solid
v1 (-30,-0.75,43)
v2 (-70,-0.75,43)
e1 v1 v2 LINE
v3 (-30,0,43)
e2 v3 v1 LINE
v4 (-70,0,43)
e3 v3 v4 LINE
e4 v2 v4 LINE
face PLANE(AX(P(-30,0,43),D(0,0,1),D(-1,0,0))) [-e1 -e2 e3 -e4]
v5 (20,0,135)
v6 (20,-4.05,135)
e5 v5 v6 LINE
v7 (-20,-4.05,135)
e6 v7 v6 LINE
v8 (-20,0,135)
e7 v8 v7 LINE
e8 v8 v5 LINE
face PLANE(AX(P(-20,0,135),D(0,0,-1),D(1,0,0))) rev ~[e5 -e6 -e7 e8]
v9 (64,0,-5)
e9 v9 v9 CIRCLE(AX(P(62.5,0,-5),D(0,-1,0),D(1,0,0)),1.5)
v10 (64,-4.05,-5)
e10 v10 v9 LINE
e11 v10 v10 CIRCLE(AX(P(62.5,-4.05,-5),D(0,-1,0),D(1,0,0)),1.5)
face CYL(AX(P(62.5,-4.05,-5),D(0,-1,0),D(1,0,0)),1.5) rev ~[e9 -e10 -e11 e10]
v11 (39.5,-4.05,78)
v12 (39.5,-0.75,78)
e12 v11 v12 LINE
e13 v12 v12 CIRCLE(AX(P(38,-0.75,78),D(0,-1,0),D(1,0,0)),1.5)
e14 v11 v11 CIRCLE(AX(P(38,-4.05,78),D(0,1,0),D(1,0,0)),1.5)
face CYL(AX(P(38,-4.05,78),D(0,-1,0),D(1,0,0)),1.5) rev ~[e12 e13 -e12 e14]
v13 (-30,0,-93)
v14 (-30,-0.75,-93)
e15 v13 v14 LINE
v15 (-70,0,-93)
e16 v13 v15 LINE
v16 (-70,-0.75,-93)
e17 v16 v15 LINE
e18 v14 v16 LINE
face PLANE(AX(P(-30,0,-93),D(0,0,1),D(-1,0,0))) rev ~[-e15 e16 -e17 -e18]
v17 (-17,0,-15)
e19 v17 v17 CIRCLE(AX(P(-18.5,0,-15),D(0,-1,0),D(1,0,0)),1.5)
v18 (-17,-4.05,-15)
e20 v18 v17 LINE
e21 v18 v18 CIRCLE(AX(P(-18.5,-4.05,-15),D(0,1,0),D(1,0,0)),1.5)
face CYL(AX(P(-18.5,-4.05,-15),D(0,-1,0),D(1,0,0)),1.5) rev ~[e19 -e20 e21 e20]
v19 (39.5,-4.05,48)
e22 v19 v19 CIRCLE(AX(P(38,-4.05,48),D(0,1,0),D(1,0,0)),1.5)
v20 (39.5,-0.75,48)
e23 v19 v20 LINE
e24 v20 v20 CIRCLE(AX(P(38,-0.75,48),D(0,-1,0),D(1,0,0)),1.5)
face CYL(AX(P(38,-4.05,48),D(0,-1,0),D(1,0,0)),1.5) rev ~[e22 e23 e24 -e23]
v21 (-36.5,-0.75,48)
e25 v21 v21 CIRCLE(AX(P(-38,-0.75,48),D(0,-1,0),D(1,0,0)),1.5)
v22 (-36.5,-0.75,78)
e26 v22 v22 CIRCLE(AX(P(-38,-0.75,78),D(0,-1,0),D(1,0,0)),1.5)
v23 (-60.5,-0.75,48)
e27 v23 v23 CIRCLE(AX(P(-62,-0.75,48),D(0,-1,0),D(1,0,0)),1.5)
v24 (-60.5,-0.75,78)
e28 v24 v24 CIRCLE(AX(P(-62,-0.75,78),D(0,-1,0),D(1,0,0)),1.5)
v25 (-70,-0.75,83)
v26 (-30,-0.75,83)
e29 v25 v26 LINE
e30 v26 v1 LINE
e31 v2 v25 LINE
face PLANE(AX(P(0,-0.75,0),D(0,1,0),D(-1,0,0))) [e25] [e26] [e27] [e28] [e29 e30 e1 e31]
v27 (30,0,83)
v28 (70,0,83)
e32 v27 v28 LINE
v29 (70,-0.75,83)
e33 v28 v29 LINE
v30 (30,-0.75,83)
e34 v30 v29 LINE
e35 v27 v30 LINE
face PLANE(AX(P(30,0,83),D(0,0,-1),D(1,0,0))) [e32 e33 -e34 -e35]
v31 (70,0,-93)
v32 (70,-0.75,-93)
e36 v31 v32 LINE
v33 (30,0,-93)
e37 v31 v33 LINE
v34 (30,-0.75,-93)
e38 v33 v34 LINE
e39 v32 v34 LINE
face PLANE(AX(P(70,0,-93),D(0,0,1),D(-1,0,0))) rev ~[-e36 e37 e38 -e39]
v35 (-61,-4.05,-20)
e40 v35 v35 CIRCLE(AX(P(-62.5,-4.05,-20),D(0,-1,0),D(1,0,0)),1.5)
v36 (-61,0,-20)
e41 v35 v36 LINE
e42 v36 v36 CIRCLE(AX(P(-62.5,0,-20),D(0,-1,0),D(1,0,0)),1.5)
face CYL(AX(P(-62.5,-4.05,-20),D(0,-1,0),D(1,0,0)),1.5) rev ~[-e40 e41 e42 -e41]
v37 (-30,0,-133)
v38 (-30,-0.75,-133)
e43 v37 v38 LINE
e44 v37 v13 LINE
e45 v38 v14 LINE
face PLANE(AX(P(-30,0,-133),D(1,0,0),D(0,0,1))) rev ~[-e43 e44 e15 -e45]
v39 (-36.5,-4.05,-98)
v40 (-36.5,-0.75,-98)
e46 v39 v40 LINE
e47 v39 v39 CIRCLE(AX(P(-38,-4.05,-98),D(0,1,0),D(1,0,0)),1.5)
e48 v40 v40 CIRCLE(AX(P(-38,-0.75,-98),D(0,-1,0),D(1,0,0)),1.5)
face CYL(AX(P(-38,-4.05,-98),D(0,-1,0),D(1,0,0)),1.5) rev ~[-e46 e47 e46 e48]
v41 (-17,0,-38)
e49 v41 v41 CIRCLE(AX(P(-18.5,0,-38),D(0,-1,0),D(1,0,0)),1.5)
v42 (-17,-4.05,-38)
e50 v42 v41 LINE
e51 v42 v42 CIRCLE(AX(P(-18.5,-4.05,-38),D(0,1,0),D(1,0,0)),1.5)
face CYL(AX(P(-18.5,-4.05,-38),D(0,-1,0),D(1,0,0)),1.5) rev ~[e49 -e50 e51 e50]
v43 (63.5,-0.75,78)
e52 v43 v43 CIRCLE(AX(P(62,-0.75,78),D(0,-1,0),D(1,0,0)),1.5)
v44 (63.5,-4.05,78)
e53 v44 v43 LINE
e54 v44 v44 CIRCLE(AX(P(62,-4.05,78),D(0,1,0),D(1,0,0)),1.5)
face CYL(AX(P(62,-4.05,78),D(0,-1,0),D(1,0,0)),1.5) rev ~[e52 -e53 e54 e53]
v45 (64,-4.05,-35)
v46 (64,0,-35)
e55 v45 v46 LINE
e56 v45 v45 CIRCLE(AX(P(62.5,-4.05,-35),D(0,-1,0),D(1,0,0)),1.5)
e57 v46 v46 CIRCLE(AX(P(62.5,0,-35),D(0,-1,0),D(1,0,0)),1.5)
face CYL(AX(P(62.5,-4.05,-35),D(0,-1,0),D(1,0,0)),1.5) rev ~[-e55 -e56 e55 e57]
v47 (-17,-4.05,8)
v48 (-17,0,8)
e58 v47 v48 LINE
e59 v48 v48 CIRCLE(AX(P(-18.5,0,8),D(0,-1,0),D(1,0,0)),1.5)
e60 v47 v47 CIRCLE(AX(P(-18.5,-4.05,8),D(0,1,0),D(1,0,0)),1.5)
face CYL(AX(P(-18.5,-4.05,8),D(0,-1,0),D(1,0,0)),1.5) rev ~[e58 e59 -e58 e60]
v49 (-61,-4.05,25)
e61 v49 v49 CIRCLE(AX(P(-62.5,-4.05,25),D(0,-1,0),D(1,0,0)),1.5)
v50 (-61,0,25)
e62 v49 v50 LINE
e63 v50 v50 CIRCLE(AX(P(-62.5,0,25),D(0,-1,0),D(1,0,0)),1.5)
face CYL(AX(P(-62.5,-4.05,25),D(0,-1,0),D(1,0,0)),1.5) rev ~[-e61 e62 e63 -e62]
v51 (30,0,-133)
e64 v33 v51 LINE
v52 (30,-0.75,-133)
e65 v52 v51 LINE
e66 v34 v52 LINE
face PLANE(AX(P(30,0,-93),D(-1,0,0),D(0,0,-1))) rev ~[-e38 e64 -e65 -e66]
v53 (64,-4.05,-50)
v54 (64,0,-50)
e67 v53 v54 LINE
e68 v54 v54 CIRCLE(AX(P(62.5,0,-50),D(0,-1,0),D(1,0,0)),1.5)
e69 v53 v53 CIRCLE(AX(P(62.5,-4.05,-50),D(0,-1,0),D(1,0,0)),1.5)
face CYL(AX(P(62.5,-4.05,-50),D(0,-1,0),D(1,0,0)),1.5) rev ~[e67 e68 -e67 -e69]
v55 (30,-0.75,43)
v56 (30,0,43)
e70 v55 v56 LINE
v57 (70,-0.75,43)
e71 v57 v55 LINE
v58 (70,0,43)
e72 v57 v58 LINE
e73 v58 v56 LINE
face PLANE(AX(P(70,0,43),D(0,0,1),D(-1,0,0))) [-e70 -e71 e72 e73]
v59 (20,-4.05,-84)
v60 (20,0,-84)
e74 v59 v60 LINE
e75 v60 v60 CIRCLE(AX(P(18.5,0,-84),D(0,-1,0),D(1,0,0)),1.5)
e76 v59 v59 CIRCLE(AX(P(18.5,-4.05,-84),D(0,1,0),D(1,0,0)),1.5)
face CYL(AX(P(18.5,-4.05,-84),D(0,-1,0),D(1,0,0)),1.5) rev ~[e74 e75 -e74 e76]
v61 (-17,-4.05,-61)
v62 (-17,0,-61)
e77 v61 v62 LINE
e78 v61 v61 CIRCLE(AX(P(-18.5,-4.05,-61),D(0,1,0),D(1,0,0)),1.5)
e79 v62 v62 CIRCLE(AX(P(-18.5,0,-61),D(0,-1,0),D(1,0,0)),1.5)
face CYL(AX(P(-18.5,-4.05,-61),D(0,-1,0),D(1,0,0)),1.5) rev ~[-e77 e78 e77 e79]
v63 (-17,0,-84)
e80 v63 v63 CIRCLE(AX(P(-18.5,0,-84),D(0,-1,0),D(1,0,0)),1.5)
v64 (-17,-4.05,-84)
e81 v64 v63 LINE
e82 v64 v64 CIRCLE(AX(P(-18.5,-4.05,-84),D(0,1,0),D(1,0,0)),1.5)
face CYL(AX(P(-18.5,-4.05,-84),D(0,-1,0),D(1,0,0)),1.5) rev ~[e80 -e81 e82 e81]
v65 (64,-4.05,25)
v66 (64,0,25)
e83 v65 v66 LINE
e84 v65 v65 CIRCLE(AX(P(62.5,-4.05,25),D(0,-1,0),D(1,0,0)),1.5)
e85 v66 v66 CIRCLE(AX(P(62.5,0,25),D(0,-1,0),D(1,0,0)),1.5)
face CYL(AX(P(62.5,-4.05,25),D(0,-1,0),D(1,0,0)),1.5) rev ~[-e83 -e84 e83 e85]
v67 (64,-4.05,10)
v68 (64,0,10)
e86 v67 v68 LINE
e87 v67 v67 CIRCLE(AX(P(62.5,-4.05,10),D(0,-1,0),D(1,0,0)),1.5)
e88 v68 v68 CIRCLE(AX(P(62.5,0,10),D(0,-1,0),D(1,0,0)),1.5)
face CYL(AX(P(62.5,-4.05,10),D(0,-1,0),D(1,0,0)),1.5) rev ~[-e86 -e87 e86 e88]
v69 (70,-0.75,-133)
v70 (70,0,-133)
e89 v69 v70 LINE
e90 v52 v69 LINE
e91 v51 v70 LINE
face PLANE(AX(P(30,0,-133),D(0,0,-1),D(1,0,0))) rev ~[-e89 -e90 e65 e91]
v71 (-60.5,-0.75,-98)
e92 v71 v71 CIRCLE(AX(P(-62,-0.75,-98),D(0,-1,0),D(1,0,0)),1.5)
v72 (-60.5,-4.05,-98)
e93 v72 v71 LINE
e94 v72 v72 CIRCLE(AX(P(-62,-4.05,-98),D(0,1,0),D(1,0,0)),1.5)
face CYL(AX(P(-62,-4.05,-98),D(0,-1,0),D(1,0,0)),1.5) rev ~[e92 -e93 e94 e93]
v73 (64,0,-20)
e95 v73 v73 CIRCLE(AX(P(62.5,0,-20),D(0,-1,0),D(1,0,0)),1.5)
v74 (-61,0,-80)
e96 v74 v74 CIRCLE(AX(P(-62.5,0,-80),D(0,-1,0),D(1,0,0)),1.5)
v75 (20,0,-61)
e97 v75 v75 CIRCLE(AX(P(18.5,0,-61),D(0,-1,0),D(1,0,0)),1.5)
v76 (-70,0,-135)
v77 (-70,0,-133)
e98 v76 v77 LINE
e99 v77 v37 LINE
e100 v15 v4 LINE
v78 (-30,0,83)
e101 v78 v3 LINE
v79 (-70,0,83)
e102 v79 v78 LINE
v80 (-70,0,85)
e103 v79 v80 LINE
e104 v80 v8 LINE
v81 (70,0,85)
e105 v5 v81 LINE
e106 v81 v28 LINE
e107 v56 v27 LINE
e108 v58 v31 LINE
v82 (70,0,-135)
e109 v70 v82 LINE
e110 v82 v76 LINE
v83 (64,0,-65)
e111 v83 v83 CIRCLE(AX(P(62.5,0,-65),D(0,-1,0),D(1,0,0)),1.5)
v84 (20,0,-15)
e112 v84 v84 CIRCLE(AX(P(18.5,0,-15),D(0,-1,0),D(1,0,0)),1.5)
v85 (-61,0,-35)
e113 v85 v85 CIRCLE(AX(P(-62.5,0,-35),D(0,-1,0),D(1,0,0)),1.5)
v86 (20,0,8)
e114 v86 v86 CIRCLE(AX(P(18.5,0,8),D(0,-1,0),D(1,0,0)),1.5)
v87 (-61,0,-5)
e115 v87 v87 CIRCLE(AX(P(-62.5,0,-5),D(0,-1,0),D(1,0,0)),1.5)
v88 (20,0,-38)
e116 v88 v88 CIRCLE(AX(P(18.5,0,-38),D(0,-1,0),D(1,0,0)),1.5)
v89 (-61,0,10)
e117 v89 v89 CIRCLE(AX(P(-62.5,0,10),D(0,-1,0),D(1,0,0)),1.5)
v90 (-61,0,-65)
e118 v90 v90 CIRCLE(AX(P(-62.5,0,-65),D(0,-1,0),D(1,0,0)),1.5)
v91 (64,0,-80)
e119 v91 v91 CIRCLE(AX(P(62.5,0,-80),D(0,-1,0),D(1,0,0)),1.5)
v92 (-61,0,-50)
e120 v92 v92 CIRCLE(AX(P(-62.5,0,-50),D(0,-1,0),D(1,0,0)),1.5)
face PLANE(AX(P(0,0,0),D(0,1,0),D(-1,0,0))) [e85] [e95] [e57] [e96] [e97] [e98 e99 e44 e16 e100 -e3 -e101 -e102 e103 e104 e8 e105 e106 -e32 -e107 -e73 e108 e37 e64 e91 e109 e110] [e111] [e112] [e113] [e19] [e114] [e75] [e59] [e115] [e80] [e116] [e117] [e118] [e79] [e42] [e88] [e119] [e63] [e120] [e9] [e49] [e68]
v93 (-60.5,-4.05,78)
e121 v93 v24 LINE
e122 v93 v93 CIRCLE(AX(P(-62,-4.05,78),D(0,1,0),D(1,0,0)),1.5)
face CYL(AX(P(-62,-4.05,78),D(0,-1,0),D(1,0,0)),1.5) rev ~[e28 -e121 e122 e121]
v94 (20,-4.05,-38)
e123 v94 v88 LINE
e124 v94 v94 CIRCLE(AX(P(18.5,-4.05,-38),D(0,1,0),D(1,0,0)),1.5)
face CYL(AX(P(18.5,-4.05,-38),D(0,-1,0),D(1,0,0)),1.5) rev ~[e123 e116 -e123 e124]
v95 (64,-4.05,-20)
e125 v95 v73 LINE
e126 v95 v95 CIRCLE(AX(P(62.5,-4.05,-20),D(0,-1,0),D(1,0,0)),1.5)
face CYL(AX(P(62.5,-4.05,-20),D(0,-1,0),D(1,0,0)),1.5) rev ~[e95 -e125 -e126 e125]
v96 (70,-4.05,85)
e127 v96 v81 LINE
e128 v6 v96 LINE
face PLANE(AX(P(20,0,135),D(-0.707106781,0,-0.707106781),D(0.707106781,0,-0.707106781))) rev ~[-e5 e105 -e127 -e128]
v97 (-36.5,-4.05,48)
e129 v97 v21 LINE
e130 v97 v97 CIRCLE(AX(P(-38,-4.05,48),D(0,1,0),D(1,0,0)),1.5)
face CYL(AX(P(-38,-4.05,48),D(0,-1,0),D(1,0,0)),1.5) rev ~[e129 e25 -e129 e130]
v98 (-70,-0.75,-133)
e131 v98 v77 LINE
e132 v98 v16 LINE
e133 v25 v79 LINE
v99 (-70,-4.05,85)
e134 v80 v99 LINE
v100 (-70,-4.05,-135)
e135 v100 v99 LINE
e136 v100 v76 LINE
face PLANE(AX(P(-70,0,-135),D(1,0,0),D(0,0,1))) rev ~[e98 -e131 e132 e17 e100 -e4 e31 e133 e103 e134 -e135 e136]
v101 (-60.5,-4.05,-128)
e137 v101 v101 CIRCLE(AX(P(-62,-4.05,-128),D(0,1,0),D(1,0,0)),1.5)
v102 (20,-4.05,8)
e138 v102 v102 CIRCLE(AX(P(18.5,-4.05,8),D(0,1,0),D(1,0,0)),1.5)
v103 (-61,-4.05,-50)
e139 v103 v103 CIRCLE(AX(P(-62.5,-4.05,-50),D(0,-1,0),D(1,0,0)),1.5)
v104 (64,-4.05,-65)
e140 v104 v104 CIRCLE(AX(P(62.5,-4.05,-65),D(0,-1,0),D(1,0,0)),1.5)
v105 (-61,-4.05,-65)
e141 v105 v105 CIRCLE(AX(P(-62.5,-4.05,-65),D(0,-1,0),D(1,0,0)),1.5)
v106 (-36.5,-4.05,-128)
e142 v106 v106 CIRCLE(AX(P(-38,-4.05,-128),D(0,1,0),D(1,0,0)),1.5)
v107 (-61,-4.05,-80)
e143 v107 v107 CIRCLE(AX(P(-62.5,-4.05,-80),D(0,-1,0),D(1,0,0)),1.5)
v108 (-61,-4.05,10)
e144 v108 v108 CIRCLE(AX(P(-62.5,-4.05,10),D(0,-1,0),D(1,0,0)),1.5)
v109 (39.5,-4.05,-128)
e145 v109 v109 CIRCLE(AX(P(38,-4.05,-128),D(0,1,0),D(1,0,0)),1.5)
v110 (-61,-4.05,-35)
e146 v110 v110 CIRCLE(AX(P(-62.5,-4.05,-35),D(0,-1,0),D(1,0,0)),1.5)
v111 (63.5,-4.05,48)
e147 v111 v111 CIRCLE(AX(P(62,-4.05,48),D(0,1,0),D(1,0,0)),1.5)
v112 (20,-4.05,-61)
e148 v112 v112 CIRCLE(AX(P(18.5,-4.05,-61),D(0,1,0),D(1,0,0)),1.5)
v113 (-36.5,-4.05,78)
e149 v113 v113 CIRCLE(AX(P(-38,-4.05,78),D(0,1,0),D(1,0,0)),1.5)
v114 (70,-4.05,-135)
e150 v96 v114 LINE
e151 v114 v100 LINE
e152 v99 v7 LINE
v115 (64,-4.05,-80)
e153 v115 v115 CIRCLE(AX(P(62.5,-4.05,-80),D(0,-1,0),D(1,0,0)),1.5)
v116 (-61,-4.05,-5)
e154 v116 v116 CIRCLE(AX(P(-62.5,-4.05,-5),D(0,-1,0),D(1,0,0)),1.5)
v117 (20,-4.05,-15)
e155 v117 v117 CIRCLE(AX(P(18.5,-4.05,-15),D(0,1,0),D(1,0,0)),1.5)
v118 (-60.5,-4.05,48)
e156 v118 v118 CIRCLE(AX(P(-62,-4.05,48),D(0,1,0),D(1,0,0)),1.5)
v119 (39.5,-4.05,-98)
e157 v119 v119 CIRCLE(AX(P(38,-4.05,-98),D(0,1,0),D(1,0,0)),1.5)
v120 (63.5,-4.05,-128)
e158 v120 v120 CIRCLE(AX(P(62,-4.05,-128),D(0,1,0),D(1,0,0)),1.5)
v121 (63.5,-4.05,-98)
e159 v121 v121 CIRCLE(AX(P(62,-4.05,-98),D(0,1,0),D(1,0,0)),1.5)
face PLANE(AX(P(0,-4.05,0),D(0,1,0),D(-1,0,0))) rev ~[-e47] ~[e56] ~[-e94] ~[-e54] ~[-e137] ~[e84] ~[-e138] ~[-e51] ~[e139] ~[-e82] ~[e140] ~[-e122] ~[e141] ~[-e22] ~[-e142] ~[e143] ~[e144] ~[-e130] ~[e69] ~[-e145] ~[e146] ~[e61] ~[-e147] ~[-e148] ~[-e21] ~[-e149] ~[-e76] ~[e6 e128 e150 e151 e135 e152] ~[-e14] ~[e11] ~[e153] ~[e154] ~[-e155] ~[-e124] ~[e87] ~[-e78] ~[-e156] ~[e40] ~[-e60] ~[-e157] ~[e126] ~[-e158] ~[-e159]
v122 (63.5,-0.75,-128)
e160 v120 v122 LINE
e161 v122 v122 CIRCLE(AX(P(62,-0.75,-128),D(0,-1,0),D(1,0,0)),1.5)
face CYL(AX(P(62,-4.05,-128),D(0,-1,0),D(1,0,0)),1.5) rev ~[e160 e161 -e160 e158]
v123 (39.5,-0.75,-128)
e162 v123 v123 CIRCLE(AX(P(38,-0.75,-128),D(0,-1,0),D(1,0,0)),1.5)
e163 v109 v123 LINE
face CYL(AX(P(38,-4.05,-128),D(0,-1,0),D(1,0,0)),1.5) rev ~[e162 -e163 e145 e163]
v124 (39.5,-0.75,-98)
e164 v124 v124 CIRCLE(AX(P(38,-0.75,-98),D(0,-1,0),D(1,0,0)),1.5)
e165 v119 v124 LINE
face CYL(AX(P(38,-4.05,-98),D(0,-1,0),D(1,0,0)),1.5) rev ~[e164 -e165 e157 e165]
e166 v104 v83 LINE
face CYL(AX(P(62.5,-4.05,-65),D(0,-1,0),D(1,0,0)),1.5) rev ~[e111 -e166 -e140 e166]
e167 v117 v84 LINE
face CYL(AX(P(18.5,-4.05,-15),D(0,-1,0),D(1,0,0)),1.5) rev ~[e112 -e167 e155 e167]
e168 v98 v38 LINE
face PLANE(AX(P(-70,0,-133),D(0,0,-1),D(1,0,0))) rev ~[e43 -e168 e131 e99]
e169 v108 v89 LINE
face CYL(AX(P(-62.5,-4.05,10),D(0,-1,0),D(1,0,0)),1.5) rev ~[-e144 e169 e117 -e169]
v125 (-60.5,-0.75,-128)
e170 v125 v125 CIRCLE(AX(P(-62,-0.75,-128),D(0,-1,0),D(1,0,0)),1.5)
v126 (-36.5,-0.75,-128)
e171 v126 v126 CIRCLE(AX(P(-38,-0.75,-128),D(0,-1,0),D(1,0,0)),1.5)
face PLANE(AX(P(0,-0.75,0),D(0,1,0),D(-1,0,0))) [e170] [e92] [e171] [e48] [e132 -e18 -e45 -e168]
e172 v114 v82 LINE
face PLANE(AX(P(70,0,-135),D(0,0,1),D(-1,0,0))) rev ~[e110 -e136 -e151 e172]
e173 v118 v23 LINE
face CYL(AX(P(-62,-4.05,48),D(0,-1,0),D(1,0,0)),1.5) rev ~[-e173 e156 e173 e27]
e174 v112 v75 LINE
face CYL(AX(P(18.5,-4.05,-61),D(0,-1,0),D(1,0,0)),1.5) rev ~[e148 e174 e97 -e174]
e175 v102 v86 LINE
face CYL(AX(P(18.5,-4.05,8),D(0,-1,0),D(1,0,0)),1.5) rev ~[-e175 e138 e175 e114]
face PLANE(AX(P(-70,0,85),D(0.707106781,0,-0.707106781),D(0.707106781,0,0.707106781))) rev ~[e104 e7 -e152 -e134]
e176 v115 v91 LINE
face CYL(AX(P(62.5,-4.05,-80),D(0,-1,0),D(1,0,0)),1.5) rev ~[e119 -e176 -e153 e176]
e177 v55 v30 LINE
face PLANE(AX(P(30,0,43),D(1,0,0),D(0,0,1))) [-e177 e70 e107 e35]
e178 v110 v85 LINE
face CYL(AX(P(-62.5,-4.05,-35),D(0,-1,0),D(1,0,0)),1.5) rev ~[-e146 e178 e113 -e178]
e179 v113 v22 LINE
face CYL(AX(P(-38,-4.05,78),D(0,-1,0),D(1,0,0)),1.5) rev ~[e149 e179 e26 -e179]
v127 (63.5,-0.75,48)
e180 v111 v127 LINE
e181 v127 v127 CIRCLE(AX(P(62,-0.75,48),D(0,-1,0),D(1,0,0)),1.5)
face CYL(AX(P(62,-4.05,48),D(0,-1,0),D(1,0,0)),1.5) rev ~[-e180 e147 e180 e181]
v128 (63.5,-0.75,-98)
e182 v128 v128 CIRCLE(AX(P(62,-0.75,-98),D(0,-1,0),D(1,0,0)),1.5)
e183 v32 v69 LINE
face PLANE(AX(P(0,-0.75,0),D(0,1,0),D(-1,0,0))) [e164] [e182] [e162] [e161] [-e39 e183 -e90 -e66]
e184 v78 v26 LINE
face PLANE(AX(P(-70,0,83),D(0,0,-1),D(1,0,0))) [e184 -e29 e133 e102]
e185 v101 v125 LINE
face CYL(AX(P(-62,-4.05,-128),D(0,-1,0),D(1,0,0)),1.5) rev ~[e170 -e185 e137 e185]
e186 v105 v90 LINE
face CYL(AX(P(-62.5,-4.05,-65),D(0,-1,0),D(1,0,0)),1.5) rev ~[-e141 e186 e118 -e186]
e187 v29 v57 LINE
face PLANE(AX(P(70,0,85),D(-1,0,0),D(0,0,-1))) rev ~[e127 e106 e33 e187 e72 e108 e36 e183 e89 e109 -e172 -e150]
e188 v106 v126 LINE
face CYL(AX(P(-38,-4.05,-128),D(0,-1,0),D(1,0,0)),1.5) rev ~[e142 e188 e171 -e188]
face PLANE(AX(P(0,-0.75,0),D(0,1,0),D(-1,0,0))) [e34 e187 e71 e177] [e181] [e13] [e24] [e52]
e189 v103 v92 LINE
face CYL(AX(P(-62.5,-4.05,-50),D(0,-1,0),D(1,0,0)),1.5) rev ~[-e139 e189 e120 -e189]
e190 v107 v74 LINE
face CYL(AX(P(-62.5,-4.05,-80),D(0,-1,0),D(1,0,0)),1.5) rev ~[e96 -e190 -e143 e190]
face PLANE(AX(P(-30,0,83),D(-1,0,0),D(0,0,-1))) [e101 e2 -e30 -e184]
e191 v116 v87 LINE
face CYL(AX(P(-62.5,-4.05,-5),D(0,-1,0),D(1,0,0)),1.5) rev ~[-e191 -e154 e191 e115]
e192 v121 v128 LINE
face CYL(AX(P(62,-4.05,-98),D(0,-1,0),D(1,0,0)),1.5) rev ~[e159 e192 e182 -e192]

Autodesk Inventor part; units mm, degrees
ref_plane "YZ Plane" through (0, 0, 0) normal (1, 0, 0) x (0, 1, 0)
ref_plane "XZ Plane" through (0, 0, 0) normal (0, 1, 0) x (-1, 0, 0)
ref_plane "XY Plane" through (0, 0, 0) normal (0, 0, 1) x (1, 0, 0)
sketch "Sketch1" plane through (0, 0, 0) normal (0, 1, 0) x (-1, 0, 0)
  line L0 (-70, 135) -> (-70, -135)
  line L1 (-70, -135) -> (70, -135)
  line L2 (70, -135) -> (70, 135)
  line L3 (70, 135) -> (-70, 135)
  line L4 (-70, 135) -> (70, -135) construction
  line L5 (-70, -135) -> (70, 135) construction
  line L6 (70, 85) -> (20, 135)
  line L7 (-20, 135) -> (-70, 85)
  point P0 (0, 0)
  dimension "d0" = 140
  dimension "d1" = 270
  dimension "d2" = 40
  dimension "d3" = 50
  dimension "d4" = 220
extrude "Extrusion1" add sketch "Sketch1" along normal blind 4.05 and the other way blind 4.05 contours L7 L3 L6 L2 L1 L0
sketch "Sketch2" plane through (0, 0, 0) normal (0, 1, 0) x (-1, 0, 0)
  line L0 (70, -135) -> (70, 85) projected
  line L1 (70, 85) -> (20, 135) projected
  line L2 (20, 135) -> (-20, 135) projected
  line L3 (-20, 135) -> (-70, 85) projected
  line L4 (-70, 85) -> (-70, -135) projected
  line L5 (-70, -135) -> (70, -135) projected
  line L6 (70, 83) -> (30, 83)
  line L7 (30, 83) -> (30, 43)
  line L8 (30, 43) -> (70, 43)
  line L9 (70, 43) -> (70, 83)
  line L10 (70, 85) -> (70, -135) projected
  line L11 (70, -133) -> (30, -133)
  line L12 (30, -133) -> (30, -93)
  line L13 (30, -93) -> (70, -93)
  line L14 (70, -93) -> (70, -133)
  line L15 (-30, 43) -> (-30, 83)
  line L16 (-70, 43) -> (-30, 43)
  line L17 (-30, 83) -> (-70, 83)
  line L18 (-70, 83) -> (-70, 43)
  line L19 (-30, -93) -> (-30, -133)
  line L20 (-70, -93) -> (-30, -93)
  line L21 (-30, -133) -> (-70, -133)
  line L22 (-70, -133) -> (-70, -93)
  point P0 (0, 0)
  point P1 (50, 83)
  point P2 (50, -133)
  point P3 (-50, 83)
  point P4 (-50, -133)
  dimension "d11" = 40
  dimension "d12" = 40
  dimension "d13" = 2
  dimension "d14" = 2
  dimension "d15" = 40
  dimension "d16" = 40
  dimension "d19" = 100
extrude "Extrusion2" cut sketch "Sketch2" along normal blind 0.75 and the other way blind 0.75 contours L11 L12 L13 L0 | L4 L20 L19 L21 | L8 L7 L6 L0 | L4 L17 L15 L16
sketch "Sketch3" plane through (0, 0, 0) normal (0, 1, 0) x (-1, 0, 0)
  line L0 (70, -135) -> (70, 85) projected
  line L1 (70, 85) -> (20, 135) projected
  line L2 (20, 135) -> (-20, 135) projected
  line L3 (-20, 135) -> (-70, 85) projected
  line L4 (-70, 85) -> (-70, -135) projected
  line L5 (-70, -135) -> (70, -135) projected
  point P0 (0, 0)
extrude "Extrusion3" cut sketch "Sketch3" along normal up to surface (4.05 mm away)
sketch "Sketch5" plane through (0, -4.05, 0) normal (0, -1, 0) x (1, 0, 0)
  line L0 (62, 78) -> (38, 78)
  line L1 (38, 78) -> (38, 48)
  line L2 (38, 48) -> (62, 48)
  line L3 (62, 48) -> (62, 78)
  line L4 (30, -93) -> (70, -93) projected
  line L5 (30, -133) -> (30, -93) projected
  line L6 (70, -133) -> (30, -133) projected
  line L7 (70, -135) -> (70, -133) projected
  line L8 (-70, -135) -> (70, -135) projected
  line L9 (-70, -133) -> (-70, -135) projected
  line L10 (-30, -133) -> (-70, -133) projected
  line L11 (-30, -93) -> (-30, -133) projected
  line L12 (-70, -93) -> (-30, -93) projected
  line L13 (-70, 43) -> (-70, -93) projected
  line L14 (-30, 43) -> (-70, 43) projected
  line L15 (-30, 83) -> (-30, 43) projected
  line L16 (-70, 83) -> (-30, 83) projected
  line L17 (-70, 85) -> (-70, 83) projected
  line L18 (-20, 135) -> (-70, 85) projected
  line L19 (20, 135) -> (-20, 135) projected
  line L20 (70, 85) -> (20, 135) projected
  line L21 (70, 83) -> (70, 85) projected
  line L22 (30, 83) -> (70, 83) projected
  line L23 (30, 43) -> (30, 83) projected
  line L24 (70, 43) -> (30, 43) projected
  line L25 (70, -93) -> (70, 43) projected
  circle A0 centre (62, 78) radius 1.5
  point P0 (0, 0)
  dimension "d31" = 24
  dimension "d32" = 30
  dimension "d33" = 8
  dimension "d34" = 5
  dimension "d35" = 3
extrude "Extrusion4" cut sketch "Sketch5" against normal up to surface (3.3 mm away) contours L3 A0 L0 | L0 A0 L3
pattern_linear "Rectangular Pattern1" count 2 spacing 30 along (0, 0, -1) count 2 spacing 24 along (-1, 0, 0) of "Extrusion4"
pattern_linear "Rectangular Pattern2" count 2 spacing 176 along (0, 0, -1) count 2 spacing 100 along (-1, 0, 0) of "Extrusion4", "Rectangular Pattern1"
sketch "Sketch6" plane through (0, -4.05, 0) normal (0, -1, 0) x (1, 0, 0)
  line L0 (18.5, -84) -> (-18.5, -84)
  line L1 (-18.5, -84) -> (-18.5, 8)
  line L2 (-18.5, 8) -> (18.5, 8)
  line L3 (18.5, 8) -> (18.5, -84)
  line L4 (70, -93) -> (70, 43) projected
  line L5 (70, 13) -> (-70, 13)
  line L6 (-70, 85) -> (-70, -135) projected
  line L7 (-70, -135) -> (70, -135) projected
  circle A0 centre (18.5, 8) radius 1.5
  point P0 (0, 0)
  point P1 (0, 8)
  dimension "d50" = 148
  dimension "d51" = 5
  dimension "d52" = 92
  dimension "d53" = 37
  dimension "d54" = 3
extrude "Extrusion5" cut sketch "Sketch6" against normal up to next contours A0 L2 L3 | L3 L2 A0
pattern_linear "Rectangular Pattern3" count 5 spacing 23 along (0, 0, -1) count 2 spacing 37 along (-1, 0, 0) of "Extrusion5"
sketch "Sketch7" plane through (0, -4.05, 0) normal (0, -1, 0) x (1, 0, 0)
  line L0 (70, -135) -> (70, 85) projected
  line L1 (-70, 85) -> (-70, -135) projected
  line L2 (-70, -135) -> (70, -135) projected
  circle A0 centre (62.5, -80) radius 1.5
  circle A1 centre (-62.5, -80) radius 1.5
  point P0 (0, 0)
  dimension "d63" = 7.5
  dimension "d64" = 7.5
  dimension "d65" = 55
  dimension "d66" = 55
  dimension "d67" = 3
  dimension "d68" = 3
extrude "Extrusion6" cut sketch "Sketch7" against normal up to next
pattern_linear "Rectangular Pattern4" count 8 spacing 15 along (0, 0, 1) of "Extrusion6"
properties part number "low_base"
